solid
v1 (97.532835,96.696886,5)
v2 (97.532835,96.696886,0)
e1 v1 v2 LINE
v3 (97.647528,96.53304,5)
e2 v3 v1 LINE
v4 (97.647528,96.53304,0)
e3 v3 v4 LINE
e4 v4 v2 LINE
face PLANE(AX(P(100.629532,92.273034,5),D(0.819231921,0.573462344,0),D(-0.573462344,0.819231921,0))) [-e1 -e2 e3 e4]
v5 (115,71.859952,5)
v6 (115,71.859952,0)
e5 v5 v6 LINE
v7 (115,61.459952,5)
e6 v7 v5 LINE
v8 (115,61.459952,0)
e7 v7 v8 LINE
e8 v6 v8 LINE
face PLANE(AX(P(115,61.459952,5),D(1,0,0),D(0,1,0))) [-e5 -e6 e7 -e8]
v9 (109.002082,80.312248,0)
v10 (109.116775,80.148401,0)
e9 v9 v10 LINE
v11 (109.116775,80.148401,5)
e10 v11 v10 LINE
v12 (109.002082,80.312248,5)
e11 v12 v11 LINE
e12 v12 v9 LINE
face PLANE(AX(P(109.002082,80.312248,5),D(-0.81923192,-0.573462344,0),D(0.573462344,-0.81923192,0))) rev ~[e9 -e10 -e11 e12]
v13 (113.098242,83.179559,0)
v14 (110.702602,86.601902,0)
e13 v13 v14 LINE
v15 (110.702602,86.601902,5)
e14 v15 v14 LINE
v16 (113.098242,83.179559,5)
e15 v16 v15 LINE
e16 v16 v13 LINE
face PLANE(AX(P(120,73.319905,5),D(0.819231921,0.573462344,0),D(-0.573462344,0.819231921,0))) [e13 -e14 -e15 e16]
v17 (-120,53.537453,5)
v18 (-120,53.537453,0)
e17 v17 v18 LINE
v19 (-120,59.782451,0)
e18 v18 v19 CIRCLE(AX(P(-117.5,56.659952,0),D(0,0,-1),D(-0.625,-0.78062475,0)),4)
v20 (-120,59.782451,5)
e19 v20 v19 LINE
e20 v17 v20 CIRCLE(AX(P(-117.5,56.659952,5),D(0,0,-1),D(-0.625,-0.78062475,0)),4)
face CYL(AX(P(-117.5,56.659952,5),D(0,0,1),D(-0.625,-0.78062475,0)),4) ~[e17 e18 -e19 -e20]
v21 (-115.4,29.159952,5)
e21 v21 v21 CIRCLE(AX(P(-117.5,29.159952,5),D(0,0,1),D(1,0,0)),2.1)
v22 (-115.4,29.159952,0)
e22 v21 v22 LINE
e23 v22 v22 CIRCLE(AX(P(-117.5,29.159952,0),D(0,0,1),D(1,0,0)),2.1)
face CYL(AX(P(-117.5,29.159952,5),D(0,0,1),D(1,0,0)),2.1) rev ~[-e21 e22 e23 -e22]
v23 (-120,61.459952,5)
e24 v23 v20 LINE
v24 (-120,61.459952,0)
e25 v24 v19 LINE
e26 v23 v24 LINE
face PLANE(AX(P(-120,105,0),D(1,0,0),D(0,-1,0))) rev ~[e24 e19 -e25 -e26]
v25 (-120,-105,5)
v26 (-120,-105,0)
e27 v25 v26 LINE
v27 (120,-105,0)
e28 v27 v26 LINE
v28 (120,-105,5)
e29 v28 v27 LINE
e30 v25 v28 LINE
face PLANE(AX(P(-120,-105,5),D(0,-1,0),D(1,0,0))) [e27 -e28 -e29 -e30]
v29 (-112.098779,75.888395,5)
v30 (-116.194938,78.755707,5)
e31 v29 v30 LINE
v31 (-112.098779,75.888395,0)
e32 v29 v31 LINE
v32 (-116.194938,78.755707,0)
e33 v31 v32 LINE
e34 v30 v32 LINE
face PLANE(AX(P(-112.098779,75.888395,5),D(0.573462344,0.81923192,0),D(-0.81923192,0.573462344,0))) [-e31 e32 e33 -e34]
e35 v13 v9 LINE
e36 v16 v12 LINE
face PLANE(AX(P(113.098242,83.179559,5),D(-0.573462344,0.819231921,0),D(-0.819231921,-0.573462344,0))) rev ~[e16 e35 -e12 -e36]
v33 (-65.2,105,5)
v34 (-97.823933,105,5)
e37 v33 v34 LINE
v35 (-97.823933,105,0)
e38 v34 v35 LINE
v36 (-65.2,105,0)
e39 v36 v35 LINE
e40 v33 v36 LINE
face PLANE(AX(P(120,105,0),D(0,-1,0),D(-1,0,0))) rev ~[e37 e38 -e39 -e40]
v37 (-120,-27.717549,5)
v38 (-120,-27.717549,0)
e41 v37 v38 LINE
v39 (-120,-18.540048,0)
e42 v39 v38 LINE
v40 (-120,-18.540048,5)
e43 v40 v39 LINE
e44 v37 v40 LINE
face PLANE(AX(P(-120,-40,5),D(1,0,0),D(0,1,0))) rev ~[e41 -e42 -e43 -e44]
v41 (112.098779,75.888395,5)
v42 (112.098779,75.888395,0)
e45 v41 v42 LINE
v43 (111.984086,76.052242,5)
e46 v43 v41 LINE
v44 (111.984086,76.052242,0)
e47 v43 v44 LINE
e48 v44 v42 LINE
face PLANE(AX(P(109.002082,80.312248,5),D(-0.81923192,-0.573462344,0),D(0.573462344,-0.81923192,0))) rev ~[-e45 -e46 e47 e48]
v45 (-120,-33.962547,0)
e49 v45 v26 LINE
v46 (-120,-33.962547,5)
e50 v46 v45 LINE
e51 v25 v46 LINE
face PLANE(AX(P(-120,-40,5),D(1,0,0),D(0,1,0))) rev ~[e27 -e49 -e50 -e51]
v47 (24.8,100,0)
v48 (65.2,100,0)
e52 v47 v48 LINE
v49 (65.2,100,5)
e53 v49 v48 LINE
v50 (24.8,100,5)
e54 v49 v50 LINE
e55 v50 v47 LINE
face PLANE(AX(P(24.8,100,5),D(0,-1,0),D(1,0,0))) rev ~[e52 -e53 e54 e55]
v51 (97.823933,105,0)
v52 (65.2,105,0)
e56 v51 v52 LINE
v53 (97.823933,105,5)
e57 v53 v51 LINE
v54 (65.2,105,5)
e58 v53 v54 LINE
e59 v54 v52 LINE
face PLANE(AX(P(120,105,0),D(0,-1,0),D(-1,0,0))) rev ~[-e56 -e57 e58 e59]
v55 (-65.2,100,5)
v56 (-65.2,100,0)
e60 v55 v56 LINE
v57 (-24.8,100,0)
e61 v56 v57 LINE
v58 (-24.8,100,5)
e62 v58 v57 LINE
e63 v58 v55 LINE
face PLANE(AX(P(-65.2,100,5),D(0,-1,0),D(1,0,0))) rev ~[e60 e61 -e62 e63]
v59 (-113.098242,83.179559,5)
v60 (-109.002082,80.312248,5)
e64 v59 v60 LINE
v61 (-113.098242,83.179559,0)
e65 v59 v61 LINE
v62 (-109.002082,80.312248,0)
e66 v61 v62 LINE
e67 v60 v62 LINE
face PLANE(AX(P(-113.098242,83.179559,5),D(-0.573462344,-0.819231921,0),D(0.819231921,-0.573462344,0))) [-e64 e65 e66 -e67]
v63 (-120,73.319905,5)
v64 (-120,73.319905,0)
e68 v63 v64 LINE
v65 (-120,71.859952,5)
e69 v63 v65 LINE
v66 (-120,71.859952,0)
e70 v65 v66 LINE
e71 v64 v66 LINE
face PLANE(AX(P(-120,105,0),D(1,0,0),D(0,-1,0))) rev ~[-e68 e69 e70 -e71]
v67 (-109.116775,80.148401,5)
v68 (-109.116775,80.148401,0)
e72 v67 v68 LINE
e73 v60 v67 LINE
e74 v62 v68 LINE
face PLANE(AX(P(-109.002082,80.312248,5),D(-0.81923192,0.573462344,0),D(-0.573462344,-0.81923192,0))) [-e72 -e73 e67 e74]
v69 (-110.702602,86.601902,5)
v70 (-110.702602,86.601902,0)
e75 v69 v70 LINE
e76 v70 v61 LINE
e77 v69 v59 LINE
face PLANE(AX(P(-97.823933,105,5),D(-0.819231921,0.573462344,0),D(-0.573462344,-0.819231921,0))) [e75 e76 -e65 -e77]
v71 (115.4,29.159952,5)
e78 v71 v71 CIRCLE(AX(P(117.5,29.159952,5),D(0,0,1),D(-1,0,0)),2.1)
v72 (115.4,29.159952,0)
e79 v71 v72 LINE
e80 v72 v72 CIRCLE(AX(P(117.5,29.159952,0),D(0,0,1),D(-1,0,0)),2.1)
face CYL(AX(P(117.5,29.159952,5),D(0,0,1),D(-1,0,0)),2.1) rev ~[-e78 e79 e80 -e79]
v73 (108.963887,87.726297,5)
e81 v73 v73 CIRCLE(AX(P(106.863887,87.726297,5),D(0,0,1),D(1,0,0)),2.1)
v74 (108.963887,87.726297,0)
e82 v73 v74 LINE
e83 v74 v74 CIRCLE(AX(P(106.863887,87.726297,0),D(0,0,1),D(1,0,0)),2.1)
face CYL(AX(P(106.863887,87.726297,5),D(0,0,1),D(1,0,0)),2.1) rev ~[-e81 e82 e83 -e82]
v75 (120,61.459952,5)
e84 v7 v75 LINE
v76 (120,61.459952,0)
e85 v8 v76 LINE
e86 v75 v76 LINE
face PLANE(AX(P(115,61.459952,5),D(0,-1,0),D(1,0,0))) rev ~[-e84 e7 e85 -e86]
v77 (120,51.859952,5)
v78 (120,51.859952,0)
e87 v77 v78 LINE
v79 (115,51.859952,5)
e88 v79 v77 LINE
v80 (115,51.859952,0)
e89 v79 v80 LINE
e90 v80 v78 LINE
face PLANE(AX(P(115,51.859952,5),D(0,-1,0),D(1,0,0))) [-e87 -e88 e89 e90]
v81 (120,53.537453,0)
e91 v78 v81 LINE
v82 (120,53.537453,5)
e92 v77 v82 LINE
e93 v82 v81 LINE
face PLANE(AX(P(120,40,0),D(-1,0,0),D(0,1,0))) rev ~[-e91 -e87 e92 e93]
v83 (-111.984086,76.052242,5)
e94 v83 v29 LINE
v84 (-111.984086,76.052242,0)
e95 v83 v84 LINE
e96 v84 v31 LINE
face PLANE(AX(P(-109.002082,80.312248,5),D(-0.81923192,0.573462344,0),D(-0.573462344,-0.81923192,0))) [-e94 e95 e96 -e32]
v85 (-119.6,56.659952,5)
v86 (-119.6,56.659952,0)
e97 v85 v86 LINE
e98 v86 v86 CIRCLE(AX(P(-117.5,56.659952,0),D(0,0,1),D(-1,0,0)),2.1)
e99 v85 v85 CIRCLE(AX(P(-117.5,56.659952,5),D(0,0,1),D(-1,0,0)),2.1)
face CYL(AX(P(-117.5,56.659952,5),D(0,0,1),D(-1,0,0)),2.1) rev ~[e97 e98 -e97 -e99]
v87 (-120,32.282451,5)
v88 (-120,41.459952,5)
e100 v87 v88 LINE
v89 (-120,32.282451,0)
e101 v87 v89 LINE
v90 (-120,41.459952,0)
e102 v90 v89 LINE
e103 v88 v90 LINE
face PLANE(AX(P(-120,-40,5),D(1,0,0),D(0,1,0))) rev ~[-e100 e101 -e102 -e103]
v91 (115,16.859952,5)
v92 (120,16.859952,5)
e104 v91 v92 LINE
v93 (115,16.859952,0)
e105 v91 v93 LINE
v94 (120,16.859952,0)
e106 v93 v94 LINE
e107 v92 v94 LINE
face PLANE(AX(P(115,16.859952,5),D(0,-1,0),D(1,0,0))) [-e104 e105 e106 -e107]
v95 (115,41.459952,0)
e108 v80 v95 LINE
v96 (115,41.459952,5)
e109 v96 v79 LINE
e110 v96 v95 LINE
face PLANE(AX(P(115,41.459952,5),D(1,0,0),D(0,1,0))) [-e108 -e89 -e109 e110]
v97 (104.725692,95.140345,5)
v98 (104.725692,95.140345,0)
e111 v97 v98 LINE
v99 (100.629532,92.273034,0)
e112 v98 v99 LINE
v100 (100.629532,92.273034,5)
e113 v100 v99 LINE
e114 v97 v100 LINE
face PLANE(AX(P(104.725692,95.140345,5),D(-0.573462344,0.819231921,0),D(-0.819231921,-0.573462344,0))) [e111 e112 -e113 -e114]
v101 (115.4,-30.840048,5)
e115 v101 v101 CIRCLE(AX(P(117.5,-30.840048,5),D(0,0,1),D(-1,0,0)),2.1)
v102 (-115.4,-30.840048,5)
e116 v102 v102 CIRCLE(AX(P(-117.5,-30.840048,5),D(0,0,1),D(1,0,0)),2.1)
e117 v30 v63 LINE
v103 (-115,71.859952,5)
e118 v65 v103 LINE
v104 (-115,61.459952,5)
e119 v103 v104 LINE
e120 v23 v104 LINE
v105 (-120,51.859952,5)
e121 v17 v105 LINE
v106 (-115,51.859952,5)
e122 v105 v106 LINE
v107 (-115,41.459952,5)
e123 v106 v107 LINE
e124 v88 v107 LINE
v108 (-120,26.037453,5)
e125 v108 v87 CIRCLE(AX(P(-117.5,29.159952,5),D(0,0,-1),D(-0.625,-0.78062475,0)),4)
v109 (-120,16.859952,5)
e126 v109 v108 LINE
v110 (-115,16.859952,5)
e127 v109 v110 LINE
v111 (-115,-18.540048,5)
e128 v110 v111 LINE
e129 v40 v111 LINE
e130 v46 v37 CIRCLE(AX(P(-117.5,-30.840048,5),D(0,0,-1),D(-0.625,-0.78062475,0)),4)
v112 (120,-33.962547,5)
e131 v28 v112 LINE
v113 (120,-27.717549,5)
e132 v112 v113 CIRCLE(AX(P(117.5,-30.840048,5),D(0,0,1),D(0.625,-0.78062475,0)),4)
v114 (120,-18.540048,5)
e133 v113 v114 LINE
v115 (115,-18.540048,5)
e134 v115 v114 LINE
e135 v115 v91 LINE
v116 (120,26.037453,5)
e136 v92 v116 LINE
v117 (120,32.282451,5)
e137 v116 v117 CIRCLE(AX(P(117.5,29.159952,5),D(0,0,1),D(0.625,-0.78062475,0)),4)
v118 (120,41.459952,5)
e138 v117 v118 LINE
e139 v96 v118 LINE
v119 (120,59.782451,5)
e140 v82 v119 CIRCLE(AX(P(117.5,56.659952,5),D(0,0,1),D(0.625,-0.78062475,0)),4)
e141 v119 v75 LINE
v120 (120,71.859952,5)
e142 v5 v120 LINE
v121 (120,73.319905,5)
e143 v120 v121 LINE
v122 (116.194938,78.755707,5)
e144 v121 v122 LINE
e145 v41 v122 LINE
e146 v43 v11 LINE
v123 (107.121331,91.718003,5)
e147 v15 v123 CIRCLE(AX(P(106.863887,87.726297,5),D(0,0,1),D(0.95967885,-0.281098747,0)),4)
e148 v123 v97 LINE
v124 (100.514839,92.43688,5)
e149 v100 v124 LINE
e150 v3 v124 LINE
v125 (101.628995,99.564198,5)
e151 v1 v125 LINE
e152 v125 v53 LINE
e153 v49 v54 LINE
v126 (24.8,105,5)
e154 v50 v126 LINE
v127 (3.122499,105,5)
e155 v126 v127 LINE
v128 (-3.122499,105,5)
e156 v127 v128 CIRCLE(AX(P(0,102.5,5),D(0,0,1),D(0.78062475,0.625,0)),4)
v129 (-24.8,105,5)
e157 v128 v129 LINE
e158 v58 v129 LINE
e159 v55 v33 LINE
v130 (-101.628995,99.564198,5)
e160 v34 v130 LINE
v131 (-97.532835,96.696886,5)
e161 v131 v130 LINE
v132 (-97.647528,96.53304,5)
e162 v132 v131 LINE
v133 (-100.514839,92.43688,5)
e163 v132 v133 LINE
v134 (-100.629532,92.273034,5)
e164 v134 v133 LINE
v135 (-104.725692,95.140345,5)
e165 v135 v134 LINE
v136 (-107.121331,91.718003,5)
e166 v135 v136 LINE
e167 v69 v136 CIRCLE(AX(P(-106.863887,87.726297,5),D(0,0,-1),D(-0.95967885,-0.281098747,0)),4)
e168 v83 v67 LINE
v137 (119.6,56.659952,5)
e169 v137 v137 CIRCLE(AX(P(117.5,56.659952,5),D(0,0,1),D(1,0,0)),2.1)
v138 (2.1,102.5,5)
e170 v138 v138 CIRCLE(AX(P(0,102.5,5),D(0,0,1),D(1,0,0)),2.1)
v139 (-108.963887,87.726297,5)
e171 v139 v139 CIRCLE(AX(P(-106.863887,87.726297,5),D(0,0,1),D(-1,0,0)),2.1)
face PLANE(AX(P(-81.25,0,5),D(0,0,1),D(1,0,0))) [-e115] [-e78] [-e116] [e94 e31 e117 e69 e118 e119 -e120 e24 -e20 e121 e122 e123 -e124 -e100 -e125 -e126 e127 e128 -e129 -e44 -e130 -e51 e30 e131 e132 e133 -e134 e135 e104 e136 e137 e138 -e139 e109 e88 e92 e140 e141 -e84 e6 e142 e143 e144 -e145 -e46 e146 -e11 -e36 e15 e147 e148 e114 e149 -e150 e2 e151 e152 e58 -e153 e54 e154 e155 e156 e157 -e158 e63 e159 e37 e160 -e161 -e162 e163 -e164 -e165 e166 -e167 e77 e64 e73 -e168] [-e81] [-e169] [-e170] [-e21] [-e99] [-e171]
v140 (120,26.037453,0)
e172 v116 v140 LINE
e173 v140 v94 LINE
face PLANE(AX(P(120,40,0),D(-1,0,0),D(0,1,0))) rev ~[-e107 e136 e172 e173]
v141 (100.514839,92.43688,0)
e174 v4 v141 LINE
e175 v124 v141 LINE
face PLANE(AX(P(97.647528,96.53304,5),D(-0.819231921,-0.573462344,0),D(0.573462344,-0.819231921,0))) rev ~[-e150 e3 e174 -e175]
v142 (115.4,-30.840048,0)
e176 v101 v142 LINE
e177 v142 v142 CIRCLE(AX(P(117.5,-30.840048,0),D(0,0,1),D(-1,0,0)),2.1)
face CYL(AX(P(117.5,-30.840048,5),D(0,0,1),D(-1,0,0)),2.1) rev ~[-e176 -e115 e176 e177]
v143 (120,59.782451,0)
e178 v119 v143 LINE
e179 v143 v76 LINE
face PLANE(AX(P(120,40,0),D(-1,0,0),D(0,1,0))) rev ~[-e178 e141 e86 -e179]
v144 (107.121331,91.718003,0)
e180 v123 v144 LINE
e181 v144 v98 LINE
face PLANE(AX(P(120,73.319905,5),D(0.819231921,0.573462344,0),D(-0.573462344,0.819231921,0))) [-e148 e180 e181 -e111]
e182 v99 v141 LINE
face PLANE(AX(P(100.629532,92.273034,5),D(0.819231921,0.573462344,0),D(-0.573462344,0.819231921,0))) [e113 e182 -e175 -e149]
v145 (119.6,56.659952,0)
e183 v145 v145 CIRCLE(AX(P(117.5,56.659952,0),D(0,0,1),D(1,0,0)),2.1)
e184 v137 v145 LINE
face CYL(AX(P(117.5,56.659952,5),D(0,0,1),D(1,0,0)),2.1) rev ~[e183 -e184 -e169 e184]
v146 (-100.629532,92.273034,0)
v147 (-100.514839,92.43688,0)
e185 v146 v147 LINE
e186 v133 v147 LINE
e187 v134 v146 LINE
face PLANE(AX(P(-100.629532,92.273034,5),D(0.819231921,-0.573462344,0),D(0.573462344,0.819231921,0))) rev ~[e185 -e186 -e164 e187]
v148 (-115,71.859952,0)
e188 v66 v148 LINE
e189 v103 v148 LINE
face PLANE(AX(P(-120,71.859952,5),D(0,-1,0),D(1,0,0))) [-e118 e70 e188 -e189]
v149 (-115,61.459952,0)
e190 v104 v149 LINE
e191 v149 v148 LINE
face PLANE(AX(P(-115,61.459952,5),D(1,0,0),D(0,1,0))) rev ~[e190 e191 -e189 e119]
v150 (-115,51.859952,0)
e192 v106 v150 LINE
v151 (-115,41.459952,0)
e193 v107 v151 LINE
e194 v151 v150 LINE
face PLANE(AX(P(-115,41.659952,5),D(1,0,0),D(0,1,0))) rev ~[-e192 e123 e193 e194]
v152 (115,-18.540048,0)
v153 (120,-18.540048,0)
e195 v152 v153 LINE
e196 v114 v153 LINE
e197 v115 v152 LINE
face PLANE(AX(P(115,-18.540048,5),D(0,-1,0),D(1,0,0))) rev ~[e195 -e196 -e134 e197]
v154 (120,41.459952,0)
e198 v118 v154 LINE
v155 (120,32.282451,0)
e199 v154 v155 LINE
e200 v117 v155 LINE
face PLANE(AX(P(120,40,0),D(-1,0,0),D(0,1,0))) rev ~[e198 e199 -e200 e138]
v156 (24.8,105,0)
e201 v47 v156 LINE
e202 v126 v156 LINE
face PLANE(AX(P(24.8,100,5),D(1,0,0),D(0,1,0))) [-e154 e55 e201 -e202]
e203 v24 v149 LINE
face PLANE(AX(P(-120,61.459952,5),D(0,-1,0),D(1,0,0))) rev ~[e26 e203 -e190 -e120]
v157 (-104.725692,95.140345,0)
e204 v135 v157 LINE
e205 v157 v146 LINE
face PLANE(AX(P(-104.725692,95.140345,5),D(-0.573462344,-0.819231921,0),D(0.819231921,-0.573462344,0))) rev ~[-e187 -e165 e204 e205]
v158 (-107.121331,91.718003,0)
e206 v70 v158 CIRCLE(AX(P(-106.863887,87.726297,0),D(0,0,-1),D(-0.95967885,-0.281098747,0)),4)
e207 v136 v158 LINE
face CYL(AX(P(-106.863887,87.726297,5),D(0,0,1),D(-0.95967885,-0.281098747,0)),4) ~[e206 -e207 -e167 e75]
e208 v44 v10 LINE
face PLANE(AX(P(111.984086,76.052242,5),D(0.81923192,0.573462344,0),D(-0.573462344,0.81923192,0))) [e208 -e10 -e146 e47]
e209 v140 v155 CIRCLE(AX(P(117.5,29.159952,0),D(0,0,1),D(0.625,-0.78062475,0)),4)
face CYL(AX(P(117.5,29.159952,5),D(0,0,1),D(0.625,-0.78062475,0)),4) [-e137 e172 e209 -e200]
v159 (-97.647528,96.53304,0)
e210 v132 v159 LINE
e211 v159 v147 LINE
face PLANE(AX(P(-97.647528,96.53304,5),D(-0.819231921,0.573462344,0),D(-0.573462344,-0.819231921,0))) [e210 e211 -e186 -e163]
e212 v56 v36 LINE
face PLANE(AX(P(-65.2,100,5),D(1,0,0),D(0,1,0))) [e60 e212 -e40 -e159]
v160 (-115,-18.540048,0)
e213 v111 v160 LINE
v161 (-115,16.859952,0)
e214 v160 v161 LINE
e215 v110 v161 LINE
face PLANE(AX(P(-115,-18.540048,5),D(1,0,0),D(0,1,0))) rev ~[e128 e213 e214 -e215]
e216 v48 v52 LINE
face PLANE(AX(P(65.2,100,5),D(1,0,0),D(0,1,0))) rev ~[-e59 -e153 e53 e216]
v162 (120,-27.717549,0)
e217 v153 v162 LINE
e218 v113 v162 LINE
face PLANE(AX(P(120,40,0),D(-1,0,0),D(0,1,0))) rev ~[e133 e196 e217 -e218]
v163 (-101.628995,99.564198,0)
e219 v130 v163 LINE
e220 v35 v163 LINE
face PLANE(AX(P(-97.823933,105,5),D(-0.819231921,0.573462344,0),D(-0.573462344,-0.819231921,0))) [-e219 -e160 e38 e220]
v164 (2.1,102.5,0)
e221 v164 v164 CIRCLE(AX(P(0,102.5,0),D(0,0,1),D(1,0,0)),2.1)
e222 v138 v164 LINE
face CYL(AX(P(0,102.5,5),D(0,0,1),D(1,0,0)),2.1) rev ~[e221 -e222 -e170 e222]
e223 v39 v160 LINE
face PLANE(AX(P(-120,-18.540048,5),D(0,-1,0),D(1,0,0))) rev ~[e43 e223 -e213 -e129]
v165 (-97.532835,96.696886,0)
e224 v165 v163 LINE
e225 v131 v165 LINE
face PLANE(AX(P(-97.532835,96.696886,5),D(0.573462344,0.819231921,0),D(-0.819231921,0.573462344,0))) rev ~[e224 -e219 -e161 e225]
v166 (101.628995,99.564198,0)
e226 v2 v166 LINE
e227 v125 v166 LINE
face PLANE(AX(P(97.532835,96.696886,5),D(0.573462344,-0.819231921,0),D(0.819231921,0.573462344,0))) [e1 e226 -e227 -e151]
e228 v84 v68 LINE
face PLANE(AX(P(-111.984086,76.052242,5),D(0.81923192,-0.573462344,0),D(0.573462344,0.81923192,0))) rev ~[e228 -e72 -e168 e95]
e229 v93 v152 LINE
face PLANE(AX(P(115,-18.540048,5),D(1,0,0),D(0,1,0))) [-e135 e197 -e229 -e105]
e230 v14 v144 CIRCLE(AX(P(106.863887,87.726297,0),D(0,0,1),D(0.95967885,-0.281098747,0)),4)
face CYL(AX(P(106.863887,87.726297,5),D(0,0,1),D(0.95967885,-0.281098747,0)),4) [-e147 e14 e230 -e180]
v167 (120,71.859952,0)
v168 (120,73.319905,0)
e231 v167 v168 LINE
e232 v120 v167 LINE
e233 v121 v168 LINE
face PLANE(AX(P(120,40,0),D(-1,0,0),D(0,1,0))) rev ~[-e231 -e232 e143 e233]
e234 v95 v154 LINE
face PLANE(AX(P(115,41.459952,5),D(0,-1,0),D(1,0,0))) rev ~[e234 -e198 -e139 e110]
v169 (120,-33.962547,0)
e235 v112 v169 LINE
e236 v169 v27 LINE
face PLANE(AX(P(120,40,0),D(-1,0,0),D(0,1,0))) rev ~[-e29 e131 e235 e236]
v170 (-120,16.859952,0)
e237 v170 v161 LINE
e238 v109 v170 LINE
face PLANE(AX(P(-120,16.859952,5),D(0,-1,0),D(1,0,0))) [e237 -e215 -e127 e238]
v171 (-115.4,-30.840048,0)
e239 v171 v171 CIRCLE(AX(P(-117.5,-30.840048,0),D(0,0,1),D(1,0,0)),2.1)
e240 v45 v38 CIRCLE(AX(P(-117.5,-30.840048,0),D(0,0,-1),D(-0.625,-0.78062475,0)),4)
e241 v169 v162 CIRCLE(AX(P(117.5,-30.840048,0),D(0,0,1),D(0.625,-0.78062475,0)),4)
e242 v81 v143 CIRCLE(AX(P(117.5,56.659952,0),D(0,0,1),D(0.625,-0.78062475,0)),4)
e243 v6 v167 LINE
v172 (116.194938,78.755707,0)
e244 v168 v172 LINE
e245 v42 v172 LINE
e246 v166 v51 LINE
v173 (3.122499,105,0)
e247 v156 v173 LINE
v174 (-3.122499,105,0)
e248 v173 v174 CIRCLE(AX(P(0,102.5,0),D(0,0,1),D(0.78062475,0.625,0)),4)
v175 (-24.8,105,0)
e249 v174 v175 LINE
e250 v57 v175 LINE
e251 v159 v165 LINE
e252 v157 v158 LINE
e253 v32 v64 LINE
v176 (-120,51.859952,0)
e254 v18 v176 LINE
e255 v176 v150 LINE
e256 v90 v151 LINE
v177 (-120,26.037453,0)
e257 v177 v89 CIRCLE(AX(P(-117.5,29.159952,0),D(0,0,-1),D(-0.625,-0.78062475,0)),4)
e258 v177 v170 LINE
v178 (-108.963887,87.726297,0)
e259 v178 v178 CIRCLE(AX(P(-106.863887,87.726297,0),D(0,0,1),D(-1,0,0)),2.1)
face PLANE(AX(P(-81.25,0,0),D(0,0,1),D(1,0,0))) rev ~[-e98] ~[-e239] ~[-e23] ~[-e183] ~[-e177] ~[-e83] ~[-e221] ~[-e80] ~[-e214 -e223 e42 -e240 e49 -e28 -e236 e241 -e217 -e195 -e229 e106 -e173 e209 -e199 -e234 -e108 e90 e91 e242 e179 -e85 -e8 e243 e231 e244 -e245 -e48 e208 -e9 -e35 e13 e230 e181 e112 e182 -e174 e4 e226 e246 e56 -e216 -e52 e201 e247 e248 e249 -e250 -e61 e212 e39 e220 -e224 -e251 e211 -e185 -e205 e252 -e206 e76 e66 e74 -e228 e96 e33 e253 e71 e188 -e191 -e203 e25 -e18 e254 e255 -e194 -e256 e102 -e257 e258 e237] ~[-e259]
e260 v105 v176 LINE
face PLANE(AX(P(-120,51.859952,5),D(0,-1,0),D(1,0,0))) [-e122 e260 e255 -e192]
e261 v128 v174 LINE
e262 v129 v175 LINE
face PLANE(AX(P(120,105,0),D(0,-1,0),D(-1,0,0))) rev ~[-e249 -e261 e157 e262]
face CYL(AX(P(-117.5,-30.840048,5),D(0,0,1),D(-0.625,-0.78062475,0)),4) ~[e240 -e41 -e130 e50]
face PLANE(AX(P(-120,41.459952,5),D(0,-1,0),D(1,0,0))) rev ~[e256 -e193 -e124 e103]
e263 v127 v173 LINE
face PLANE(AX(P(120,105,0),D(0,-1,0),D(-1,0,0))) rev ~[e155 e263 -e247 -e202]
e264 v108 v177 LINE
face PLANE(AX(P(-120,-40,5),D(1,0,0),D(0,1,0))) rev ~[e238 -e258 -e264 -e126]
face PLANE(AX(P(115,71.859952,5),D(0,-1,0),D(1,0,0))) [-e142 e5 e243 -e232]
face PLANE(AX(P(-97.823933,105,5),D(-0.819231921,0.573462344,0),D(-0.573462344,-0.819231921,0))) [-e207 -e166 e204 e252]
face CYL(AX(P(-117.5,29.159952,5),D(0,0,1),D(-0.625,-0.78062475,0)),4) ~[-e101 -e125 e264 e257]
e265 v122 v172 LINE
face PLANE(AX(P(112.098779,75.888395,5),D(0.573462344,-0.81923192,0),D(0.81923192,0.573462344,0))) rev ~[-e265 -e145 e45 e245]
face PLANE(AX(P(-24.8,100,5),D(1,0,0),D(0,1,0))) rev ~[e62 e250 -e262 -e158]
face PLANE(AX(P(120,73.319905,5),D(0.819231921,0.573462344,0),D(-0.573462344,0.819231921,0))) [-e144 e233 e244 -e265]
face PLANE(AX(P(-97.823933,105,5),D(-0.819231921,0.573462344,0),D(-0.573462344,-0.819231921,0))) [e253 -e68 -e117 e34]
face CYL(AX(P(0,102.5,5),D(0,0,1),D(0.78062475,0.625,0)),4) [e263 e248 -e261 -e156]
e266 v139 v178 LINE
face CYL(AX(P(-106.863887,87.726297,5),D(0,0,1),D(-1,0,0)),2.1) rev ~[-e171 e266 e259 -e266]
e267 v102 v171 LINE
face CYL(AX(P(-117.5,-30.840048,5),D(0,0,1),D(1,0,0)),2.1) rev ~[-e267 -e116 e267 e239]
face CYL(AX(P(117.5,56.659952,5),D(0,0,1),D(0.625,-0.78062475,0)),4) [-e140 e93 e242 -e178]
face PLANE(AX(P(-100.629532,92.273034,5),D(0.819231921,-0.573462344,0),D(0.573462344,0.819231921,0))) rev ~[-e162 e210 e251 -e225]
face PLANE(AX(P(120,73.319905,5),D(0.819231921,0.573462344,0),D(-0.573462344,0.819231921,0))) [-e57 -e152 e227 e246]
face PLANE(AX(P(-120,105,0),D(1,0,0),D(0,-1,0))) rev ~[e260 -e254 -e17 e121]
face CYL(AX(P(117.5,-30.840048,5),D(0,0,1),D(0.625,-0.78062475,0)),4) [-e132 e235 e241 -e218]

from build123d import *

# Parameters (mm, degrees)
BOSS_EXTRUDE1_DEPTH = 5
CUT_EXTRUDE1_DEPTH  = 5
CUT_EXTRUDE4_DEPTH  = 5
BOSS_EXTRUDE3_DEPTH = 5
SKETCH8_R           = 2.1
SKETCH8_W           = 5
SKETCH8_H           = 10
SKETCH8_W_2         = 40
SKETCH8_H_2         = 5
CUT_EXTRUDE5_DEPTH  = 10
BOSS_EXTRUDE4_DEPTH = 5
SKETCH10_W          = 77.5
SKETCH10_H          = 80
BOSS_EXTRUDE5_DEPTH = 5
CUT_EXTRUDE6_DEPTH  = 5
SKETCH12_R          = 2.1
SKETCH12_W          = 5
SKETCH12_H          = 35
CUT_EXTRUDE7_DEPTH  = 5
BOSS_EXTRUDE6_DEPTH = 5
SKETCH14_W          = 5
SKETCH14_H          = 10.4
SKETCH14_H_2        = 35.4
SKETCH14_W_2        = 40.4
SKETCH14_H_3        = 5
CUT_EXTRUDE8_DEPTH  = 10


with BuildPart() as part:
    # Sketch1 → Boss-Extrude1 (new body)
    with BuildSketch(Plane.XY):
        Polygon((-120, 40), (-42.5, 40), (-42.5, -40), (-120, -40), (-120, -105), (120, -105), (120, -40), (42.5, -40), (42.5, 40), (120, 40), (120, 105), (-120, 105), align=None)
    extrude(amount=BOSS_EXTRUDE1_DEPTH)

    # Sketch2 → Cut-Extrude1 (cut)
    with BuildSketch(Plane.XY.offset(5)):
        Polygon((40, -55.717967697), (-40, -55.717967697), (-80, -125), (-40, -194.282032303), (40, -194.282032303), (80, -125), align=None)
    extrude(amount=-CUT_EXTRUDE1_DEPTH, mode=Mode.SUBTRACT)

    # Sketch5 → Cut-Extrude4 (cut)
    with BuildSketch(Plane.XY.offset(5)):
        Polygon((-97.823933369, 105), (-120, 73.319904814), (-120, 105), align=None)
        Polygon((97.823933369, 105), (120, 105), (120, 73.319904814), align=None)
    extrude(amount=-CUT_EXTRUDE4_DEPTH, mode=Mode.SUBTRACT)

    # Sketch7 → Boss-Extrude3 (add)
    with BuildSketch(Plane(origin=(0, 0, 0), x_dir=(-1, 0, 0), z_dir=(0, 0, -1))):
        Polygon((120, -40), (120, -105), (89.53, -105), (111.53, -122.5), (129.53, -122.5), (129.53, -40), align=None)
    boss_extrude3 = extrude(amount=-BOSS_EXTRUDE3_DEPTH)

    # Mirror2: Boss-Extrude3 across plane
    add(boss_extrude3.mirror(Plane(origin=(0, 0, 0), x_dir=(0, 0, 1), z_dir=(1, 0, 0))))

    # Sketch8 → Cut-Extrude5 (cut)
    with BuildSketch(Plane.XY.offset(5)):
        with Locations((0, 102.5)):
            Circle(SKETCH8_R)
        with Locations((106.863886883, 87.726296546)):
            Circle(SKETCH8_R)
        with Locations((117.5, 56.659952407)):
            Circle(SKETCH8_R)
        with Locations(Location((-117.5, 56.659952407, 0), (0, 0, 180))):
            Circle(SKETCH8_R)
        with Locations(Location((-106.863886883, 87.726296546, 0), (0, 0, 180))):
            Circle(SKETCH8_R)
        Polygon((-113.212934267, 83.015713003), (-116.080245989, 78.9195534), (-111.984086387, 76.052241679), (-109.116774665, 80.148401281), align=None)
        Polygon((-100.514839499, 92.436880089), (-104.610999102, 95.304191811), (-101.74368738, 99.400351413), (-97.647527778, 96.533039691), align=None)
        with Locations((-117.5, 46.659952407)):
            Rectangle(SKETCH8_W, SKETCH8_H)
        with Locations((-117.5, 66.659952407)):
            Rectangle(SKETCH8_W, SKETCH8_H)
        with Locations((-45, 102.5)):
            Rectangle(SKETCH8_W_2, SKETCH8_H_2)
        with Locations((45, 102.5)):
            Rectangle(SKETCH8_W_2, SKETCH8_H_2)
        with Locations((117.5, 66.659952407)):
            Rectangle(SKETCH8_W, SKETCH8_H)
        with Locations((117.5, 46.659952407)):
            Rectangle(SKETCH8_W, SKETCH8_H)
        Polygon((104.610999102, 95.304191811), (101.74368738, 99.400351413), (97.647527778, 96.533039691), (100.514839499, 92.436880089), align=None)
        Polygon((109.116774665, 80.148401281), (113.212934267, 83.015713003), (116.080245989, 78.9195534), (111.984086387, 76.052241679), align=None)
    extrude(amount=-CUT_EXTRUDE5_DEPTH, mode=Mode.SUBTRACT)

    # Sketch9 → Boss-Extrude4 (add)
    with BuildSketch(Plane.XY.offset(5)):
        with BuildLine():
            Line((-3.122498999, 105), (3.122498999, 105))
            ThreePointArc((3.122498999, 105), (0, 106.5), (-3.122498999, 105))
        make_face()
        with BuildLine():
            Line((107.121331088, 91.718003259), (110.702602281, 86.601901555))
            ThreePointArc((110.702602281, 86.601901555), (110.140814565, 90.020145923), (107.121331088, 91.718003259))
        make_face()
        with BuildLine():
            Line((120, 59.782451406), (120, 53.537453408))
            ThreePointArc((120, 53.537453408), (121.5, 56.659952407), (120, 59.782451406))
        make_face()
        with BuildLine():
            Line((-120, 59.782451406), (-120, 53.537453408))
            ThreePointArc((-120, 53.537453408), (-121.5, 56.659952407), (-120, 59.782451406))
        make_face()
        with BuildLine():
            Line((-107.121331088, 91.718003259), (-110.702602281, 86.601901555))
            ThreePointArc((-110.702602281, 86.601901555), (-110.140814565, 90.020145923), (-107.121331088, 91.718003259))
        make_face()
    extrude(amount=-BOSS_EXTRUDE4_DEPTH)

    # Sketch10 → Boss-Extrude5 (add)
    with BuildSketch(Plane.XY.offset(5)):
        with Locations((-81.25, 0)):
            Rectangle(SKETCH10_W, SKETCH10_H)
        Polygon((-68.452994616, -105), (68.452994616, -105), (40, -55.717967697), (-40, -55.717967697), align=None)
        with Locations((81.25, 0)):
            Rectangle(SKETCH10_W, SKETCH10_H)
    extrude(amount=-BOSS_EXTRUDE5_DEPTH)

    # Sketch11 → Cut-Extrude6 (cut)
    with BuildSketch(Plane.XY.offset(5)):
        Polygon((-120, -40), (-120, -105), (120, -105), (120, -40), (129.53, -40), (129.53, -122.5), (-129.53, -122.5), (-129.53, -40), align=None)
    extrude(amount=-CUT_EXTRUDE6_DEPTH, mode=Mode.SUBTRACT)

    # Sketch12 → Cut-Extrude7 (cut)
    with BuildSketch(Plane.XY.offset(5)):
        with Locations((-117.5, 29.159952407)):
            Circle(SKETCH12_R)
        with Locations((-117.5, -30.840047593)):
            Circle(SKETCH12_R)
        with Locations(Location((117.5, -30.840047593, 0), (0, 0, 180))):
            Circle(SKETCH12_R)
        with Locations(Location((117.5, 29.159952407, 0), (0, 0, 180))):
            Circle(SKETCH12_R)
        with Locations((-117.5, -0.840047593)):
            Rectangle(SKETCH12_W, SKETCH12_H)
        with Locations((117.5, -0.840047593)):
            Rectangle(SKETCH12_W, SKETCH12_H)
    extrude(amount=-CUT_EXTRUDE7_DEPTH, mode=Mode.SUBTRACT)

    # Sketch13 → Boss-Extrude6 (add)
    with BuildSketch(Plane.XY.offset(5)):
        with BuildLine():
            Line((-120, 32.282451406), (-120, 26.037453408))
            ThreePointArc((-120, 26.037453408), (-121.5, 29.159952407), (-120, 32.282451406))
        make_face()
        with BuildLine():
            Line((-120, -27.717548594), (-120, -33.962546592))
            ThreePointArc((-120, -33.962546592), (-121.5, -30.840047593), (-120, -27.717548594))
        make_face()
        with BuildLine():
            Line((120, -27.717548594), (120, -33.962546592))
            ThreePointArc((120, -33.962546592), (121.5, -30.840047593), (120, -27.717548594))
        make_face()
        with BuildLine():
            Line((120, 32.282451406), (120, 26.037453408))
            ThreePointArc((120, 26.037453408), (121.5, 29.159952407), (120, 32.282451406))
        make_face()
    extrude(amount=-BOSS_EXTRUDE6_DEPTH)

    # Sketch14 → Cut-Extrude8 (cut)
    with BuildSketch(Plane.XY.offset(5)):
        Polygon((-104.725691571, 95.140345427), (-100.629531968, 92.273033705), (-97.532835309, 96.696886076), (-101.628994911, 99.564197797), align=None)
        Polygon((-112.098778856, 75.888395294), (-116.194938458, 78.755707016), (-113.098241799, 83.179559387), (-109.002082196, 80.312247665), align=None)
        with Locations((-117.5, 66.659952407)):
            Rectangle(SKETCH14_W, SKETCH14_H)
        with Locations((-117.5, 46.659952407)):
            Rectangle(SKETCH14_W, SKETCH14_H)
        with Locations((-117.5, -0.840047593)):
            Rectangle(SKETCH14_W, SKETCH14_H_2)
        with Locations((-45, 102.5)):
            Rectangle(SKETCH14_W_2, SKETCH14_H_3)
        with Locations((45, 102.5)):
            Rectangle(SKETCH14_W_2, SKETCH14_H_3)
        with Locations((117.5, -0.840047593)):
            Rectangle(SKETCH14_W, SKETCH14_H_2)
        with Locations((117.5, 46.659952407)):
            Rectangle(SKETCH14_W, SKETCH14_H)
        with Locations((117.5, 66.659952407)):
            Rectangle(SKETCH14_W, SKETCH14_H)
        Polygon((113.098241799, 83.179559387), (109.002082196, 80.312247665), (112.098778856, 75.888395294), (116.194938458, 78.755707016), align=None)
        Polygon((97.532835309, 96.696886076), (101.628994911, 99.564197797), (104.725691571, 95.140345427), (100.629531968, 92.273033705), align=None)
    extrude(amount=-CUT_EXTRUDE8_DEPTH, mode=Mode.SUBTRACT)


solid = part.part
